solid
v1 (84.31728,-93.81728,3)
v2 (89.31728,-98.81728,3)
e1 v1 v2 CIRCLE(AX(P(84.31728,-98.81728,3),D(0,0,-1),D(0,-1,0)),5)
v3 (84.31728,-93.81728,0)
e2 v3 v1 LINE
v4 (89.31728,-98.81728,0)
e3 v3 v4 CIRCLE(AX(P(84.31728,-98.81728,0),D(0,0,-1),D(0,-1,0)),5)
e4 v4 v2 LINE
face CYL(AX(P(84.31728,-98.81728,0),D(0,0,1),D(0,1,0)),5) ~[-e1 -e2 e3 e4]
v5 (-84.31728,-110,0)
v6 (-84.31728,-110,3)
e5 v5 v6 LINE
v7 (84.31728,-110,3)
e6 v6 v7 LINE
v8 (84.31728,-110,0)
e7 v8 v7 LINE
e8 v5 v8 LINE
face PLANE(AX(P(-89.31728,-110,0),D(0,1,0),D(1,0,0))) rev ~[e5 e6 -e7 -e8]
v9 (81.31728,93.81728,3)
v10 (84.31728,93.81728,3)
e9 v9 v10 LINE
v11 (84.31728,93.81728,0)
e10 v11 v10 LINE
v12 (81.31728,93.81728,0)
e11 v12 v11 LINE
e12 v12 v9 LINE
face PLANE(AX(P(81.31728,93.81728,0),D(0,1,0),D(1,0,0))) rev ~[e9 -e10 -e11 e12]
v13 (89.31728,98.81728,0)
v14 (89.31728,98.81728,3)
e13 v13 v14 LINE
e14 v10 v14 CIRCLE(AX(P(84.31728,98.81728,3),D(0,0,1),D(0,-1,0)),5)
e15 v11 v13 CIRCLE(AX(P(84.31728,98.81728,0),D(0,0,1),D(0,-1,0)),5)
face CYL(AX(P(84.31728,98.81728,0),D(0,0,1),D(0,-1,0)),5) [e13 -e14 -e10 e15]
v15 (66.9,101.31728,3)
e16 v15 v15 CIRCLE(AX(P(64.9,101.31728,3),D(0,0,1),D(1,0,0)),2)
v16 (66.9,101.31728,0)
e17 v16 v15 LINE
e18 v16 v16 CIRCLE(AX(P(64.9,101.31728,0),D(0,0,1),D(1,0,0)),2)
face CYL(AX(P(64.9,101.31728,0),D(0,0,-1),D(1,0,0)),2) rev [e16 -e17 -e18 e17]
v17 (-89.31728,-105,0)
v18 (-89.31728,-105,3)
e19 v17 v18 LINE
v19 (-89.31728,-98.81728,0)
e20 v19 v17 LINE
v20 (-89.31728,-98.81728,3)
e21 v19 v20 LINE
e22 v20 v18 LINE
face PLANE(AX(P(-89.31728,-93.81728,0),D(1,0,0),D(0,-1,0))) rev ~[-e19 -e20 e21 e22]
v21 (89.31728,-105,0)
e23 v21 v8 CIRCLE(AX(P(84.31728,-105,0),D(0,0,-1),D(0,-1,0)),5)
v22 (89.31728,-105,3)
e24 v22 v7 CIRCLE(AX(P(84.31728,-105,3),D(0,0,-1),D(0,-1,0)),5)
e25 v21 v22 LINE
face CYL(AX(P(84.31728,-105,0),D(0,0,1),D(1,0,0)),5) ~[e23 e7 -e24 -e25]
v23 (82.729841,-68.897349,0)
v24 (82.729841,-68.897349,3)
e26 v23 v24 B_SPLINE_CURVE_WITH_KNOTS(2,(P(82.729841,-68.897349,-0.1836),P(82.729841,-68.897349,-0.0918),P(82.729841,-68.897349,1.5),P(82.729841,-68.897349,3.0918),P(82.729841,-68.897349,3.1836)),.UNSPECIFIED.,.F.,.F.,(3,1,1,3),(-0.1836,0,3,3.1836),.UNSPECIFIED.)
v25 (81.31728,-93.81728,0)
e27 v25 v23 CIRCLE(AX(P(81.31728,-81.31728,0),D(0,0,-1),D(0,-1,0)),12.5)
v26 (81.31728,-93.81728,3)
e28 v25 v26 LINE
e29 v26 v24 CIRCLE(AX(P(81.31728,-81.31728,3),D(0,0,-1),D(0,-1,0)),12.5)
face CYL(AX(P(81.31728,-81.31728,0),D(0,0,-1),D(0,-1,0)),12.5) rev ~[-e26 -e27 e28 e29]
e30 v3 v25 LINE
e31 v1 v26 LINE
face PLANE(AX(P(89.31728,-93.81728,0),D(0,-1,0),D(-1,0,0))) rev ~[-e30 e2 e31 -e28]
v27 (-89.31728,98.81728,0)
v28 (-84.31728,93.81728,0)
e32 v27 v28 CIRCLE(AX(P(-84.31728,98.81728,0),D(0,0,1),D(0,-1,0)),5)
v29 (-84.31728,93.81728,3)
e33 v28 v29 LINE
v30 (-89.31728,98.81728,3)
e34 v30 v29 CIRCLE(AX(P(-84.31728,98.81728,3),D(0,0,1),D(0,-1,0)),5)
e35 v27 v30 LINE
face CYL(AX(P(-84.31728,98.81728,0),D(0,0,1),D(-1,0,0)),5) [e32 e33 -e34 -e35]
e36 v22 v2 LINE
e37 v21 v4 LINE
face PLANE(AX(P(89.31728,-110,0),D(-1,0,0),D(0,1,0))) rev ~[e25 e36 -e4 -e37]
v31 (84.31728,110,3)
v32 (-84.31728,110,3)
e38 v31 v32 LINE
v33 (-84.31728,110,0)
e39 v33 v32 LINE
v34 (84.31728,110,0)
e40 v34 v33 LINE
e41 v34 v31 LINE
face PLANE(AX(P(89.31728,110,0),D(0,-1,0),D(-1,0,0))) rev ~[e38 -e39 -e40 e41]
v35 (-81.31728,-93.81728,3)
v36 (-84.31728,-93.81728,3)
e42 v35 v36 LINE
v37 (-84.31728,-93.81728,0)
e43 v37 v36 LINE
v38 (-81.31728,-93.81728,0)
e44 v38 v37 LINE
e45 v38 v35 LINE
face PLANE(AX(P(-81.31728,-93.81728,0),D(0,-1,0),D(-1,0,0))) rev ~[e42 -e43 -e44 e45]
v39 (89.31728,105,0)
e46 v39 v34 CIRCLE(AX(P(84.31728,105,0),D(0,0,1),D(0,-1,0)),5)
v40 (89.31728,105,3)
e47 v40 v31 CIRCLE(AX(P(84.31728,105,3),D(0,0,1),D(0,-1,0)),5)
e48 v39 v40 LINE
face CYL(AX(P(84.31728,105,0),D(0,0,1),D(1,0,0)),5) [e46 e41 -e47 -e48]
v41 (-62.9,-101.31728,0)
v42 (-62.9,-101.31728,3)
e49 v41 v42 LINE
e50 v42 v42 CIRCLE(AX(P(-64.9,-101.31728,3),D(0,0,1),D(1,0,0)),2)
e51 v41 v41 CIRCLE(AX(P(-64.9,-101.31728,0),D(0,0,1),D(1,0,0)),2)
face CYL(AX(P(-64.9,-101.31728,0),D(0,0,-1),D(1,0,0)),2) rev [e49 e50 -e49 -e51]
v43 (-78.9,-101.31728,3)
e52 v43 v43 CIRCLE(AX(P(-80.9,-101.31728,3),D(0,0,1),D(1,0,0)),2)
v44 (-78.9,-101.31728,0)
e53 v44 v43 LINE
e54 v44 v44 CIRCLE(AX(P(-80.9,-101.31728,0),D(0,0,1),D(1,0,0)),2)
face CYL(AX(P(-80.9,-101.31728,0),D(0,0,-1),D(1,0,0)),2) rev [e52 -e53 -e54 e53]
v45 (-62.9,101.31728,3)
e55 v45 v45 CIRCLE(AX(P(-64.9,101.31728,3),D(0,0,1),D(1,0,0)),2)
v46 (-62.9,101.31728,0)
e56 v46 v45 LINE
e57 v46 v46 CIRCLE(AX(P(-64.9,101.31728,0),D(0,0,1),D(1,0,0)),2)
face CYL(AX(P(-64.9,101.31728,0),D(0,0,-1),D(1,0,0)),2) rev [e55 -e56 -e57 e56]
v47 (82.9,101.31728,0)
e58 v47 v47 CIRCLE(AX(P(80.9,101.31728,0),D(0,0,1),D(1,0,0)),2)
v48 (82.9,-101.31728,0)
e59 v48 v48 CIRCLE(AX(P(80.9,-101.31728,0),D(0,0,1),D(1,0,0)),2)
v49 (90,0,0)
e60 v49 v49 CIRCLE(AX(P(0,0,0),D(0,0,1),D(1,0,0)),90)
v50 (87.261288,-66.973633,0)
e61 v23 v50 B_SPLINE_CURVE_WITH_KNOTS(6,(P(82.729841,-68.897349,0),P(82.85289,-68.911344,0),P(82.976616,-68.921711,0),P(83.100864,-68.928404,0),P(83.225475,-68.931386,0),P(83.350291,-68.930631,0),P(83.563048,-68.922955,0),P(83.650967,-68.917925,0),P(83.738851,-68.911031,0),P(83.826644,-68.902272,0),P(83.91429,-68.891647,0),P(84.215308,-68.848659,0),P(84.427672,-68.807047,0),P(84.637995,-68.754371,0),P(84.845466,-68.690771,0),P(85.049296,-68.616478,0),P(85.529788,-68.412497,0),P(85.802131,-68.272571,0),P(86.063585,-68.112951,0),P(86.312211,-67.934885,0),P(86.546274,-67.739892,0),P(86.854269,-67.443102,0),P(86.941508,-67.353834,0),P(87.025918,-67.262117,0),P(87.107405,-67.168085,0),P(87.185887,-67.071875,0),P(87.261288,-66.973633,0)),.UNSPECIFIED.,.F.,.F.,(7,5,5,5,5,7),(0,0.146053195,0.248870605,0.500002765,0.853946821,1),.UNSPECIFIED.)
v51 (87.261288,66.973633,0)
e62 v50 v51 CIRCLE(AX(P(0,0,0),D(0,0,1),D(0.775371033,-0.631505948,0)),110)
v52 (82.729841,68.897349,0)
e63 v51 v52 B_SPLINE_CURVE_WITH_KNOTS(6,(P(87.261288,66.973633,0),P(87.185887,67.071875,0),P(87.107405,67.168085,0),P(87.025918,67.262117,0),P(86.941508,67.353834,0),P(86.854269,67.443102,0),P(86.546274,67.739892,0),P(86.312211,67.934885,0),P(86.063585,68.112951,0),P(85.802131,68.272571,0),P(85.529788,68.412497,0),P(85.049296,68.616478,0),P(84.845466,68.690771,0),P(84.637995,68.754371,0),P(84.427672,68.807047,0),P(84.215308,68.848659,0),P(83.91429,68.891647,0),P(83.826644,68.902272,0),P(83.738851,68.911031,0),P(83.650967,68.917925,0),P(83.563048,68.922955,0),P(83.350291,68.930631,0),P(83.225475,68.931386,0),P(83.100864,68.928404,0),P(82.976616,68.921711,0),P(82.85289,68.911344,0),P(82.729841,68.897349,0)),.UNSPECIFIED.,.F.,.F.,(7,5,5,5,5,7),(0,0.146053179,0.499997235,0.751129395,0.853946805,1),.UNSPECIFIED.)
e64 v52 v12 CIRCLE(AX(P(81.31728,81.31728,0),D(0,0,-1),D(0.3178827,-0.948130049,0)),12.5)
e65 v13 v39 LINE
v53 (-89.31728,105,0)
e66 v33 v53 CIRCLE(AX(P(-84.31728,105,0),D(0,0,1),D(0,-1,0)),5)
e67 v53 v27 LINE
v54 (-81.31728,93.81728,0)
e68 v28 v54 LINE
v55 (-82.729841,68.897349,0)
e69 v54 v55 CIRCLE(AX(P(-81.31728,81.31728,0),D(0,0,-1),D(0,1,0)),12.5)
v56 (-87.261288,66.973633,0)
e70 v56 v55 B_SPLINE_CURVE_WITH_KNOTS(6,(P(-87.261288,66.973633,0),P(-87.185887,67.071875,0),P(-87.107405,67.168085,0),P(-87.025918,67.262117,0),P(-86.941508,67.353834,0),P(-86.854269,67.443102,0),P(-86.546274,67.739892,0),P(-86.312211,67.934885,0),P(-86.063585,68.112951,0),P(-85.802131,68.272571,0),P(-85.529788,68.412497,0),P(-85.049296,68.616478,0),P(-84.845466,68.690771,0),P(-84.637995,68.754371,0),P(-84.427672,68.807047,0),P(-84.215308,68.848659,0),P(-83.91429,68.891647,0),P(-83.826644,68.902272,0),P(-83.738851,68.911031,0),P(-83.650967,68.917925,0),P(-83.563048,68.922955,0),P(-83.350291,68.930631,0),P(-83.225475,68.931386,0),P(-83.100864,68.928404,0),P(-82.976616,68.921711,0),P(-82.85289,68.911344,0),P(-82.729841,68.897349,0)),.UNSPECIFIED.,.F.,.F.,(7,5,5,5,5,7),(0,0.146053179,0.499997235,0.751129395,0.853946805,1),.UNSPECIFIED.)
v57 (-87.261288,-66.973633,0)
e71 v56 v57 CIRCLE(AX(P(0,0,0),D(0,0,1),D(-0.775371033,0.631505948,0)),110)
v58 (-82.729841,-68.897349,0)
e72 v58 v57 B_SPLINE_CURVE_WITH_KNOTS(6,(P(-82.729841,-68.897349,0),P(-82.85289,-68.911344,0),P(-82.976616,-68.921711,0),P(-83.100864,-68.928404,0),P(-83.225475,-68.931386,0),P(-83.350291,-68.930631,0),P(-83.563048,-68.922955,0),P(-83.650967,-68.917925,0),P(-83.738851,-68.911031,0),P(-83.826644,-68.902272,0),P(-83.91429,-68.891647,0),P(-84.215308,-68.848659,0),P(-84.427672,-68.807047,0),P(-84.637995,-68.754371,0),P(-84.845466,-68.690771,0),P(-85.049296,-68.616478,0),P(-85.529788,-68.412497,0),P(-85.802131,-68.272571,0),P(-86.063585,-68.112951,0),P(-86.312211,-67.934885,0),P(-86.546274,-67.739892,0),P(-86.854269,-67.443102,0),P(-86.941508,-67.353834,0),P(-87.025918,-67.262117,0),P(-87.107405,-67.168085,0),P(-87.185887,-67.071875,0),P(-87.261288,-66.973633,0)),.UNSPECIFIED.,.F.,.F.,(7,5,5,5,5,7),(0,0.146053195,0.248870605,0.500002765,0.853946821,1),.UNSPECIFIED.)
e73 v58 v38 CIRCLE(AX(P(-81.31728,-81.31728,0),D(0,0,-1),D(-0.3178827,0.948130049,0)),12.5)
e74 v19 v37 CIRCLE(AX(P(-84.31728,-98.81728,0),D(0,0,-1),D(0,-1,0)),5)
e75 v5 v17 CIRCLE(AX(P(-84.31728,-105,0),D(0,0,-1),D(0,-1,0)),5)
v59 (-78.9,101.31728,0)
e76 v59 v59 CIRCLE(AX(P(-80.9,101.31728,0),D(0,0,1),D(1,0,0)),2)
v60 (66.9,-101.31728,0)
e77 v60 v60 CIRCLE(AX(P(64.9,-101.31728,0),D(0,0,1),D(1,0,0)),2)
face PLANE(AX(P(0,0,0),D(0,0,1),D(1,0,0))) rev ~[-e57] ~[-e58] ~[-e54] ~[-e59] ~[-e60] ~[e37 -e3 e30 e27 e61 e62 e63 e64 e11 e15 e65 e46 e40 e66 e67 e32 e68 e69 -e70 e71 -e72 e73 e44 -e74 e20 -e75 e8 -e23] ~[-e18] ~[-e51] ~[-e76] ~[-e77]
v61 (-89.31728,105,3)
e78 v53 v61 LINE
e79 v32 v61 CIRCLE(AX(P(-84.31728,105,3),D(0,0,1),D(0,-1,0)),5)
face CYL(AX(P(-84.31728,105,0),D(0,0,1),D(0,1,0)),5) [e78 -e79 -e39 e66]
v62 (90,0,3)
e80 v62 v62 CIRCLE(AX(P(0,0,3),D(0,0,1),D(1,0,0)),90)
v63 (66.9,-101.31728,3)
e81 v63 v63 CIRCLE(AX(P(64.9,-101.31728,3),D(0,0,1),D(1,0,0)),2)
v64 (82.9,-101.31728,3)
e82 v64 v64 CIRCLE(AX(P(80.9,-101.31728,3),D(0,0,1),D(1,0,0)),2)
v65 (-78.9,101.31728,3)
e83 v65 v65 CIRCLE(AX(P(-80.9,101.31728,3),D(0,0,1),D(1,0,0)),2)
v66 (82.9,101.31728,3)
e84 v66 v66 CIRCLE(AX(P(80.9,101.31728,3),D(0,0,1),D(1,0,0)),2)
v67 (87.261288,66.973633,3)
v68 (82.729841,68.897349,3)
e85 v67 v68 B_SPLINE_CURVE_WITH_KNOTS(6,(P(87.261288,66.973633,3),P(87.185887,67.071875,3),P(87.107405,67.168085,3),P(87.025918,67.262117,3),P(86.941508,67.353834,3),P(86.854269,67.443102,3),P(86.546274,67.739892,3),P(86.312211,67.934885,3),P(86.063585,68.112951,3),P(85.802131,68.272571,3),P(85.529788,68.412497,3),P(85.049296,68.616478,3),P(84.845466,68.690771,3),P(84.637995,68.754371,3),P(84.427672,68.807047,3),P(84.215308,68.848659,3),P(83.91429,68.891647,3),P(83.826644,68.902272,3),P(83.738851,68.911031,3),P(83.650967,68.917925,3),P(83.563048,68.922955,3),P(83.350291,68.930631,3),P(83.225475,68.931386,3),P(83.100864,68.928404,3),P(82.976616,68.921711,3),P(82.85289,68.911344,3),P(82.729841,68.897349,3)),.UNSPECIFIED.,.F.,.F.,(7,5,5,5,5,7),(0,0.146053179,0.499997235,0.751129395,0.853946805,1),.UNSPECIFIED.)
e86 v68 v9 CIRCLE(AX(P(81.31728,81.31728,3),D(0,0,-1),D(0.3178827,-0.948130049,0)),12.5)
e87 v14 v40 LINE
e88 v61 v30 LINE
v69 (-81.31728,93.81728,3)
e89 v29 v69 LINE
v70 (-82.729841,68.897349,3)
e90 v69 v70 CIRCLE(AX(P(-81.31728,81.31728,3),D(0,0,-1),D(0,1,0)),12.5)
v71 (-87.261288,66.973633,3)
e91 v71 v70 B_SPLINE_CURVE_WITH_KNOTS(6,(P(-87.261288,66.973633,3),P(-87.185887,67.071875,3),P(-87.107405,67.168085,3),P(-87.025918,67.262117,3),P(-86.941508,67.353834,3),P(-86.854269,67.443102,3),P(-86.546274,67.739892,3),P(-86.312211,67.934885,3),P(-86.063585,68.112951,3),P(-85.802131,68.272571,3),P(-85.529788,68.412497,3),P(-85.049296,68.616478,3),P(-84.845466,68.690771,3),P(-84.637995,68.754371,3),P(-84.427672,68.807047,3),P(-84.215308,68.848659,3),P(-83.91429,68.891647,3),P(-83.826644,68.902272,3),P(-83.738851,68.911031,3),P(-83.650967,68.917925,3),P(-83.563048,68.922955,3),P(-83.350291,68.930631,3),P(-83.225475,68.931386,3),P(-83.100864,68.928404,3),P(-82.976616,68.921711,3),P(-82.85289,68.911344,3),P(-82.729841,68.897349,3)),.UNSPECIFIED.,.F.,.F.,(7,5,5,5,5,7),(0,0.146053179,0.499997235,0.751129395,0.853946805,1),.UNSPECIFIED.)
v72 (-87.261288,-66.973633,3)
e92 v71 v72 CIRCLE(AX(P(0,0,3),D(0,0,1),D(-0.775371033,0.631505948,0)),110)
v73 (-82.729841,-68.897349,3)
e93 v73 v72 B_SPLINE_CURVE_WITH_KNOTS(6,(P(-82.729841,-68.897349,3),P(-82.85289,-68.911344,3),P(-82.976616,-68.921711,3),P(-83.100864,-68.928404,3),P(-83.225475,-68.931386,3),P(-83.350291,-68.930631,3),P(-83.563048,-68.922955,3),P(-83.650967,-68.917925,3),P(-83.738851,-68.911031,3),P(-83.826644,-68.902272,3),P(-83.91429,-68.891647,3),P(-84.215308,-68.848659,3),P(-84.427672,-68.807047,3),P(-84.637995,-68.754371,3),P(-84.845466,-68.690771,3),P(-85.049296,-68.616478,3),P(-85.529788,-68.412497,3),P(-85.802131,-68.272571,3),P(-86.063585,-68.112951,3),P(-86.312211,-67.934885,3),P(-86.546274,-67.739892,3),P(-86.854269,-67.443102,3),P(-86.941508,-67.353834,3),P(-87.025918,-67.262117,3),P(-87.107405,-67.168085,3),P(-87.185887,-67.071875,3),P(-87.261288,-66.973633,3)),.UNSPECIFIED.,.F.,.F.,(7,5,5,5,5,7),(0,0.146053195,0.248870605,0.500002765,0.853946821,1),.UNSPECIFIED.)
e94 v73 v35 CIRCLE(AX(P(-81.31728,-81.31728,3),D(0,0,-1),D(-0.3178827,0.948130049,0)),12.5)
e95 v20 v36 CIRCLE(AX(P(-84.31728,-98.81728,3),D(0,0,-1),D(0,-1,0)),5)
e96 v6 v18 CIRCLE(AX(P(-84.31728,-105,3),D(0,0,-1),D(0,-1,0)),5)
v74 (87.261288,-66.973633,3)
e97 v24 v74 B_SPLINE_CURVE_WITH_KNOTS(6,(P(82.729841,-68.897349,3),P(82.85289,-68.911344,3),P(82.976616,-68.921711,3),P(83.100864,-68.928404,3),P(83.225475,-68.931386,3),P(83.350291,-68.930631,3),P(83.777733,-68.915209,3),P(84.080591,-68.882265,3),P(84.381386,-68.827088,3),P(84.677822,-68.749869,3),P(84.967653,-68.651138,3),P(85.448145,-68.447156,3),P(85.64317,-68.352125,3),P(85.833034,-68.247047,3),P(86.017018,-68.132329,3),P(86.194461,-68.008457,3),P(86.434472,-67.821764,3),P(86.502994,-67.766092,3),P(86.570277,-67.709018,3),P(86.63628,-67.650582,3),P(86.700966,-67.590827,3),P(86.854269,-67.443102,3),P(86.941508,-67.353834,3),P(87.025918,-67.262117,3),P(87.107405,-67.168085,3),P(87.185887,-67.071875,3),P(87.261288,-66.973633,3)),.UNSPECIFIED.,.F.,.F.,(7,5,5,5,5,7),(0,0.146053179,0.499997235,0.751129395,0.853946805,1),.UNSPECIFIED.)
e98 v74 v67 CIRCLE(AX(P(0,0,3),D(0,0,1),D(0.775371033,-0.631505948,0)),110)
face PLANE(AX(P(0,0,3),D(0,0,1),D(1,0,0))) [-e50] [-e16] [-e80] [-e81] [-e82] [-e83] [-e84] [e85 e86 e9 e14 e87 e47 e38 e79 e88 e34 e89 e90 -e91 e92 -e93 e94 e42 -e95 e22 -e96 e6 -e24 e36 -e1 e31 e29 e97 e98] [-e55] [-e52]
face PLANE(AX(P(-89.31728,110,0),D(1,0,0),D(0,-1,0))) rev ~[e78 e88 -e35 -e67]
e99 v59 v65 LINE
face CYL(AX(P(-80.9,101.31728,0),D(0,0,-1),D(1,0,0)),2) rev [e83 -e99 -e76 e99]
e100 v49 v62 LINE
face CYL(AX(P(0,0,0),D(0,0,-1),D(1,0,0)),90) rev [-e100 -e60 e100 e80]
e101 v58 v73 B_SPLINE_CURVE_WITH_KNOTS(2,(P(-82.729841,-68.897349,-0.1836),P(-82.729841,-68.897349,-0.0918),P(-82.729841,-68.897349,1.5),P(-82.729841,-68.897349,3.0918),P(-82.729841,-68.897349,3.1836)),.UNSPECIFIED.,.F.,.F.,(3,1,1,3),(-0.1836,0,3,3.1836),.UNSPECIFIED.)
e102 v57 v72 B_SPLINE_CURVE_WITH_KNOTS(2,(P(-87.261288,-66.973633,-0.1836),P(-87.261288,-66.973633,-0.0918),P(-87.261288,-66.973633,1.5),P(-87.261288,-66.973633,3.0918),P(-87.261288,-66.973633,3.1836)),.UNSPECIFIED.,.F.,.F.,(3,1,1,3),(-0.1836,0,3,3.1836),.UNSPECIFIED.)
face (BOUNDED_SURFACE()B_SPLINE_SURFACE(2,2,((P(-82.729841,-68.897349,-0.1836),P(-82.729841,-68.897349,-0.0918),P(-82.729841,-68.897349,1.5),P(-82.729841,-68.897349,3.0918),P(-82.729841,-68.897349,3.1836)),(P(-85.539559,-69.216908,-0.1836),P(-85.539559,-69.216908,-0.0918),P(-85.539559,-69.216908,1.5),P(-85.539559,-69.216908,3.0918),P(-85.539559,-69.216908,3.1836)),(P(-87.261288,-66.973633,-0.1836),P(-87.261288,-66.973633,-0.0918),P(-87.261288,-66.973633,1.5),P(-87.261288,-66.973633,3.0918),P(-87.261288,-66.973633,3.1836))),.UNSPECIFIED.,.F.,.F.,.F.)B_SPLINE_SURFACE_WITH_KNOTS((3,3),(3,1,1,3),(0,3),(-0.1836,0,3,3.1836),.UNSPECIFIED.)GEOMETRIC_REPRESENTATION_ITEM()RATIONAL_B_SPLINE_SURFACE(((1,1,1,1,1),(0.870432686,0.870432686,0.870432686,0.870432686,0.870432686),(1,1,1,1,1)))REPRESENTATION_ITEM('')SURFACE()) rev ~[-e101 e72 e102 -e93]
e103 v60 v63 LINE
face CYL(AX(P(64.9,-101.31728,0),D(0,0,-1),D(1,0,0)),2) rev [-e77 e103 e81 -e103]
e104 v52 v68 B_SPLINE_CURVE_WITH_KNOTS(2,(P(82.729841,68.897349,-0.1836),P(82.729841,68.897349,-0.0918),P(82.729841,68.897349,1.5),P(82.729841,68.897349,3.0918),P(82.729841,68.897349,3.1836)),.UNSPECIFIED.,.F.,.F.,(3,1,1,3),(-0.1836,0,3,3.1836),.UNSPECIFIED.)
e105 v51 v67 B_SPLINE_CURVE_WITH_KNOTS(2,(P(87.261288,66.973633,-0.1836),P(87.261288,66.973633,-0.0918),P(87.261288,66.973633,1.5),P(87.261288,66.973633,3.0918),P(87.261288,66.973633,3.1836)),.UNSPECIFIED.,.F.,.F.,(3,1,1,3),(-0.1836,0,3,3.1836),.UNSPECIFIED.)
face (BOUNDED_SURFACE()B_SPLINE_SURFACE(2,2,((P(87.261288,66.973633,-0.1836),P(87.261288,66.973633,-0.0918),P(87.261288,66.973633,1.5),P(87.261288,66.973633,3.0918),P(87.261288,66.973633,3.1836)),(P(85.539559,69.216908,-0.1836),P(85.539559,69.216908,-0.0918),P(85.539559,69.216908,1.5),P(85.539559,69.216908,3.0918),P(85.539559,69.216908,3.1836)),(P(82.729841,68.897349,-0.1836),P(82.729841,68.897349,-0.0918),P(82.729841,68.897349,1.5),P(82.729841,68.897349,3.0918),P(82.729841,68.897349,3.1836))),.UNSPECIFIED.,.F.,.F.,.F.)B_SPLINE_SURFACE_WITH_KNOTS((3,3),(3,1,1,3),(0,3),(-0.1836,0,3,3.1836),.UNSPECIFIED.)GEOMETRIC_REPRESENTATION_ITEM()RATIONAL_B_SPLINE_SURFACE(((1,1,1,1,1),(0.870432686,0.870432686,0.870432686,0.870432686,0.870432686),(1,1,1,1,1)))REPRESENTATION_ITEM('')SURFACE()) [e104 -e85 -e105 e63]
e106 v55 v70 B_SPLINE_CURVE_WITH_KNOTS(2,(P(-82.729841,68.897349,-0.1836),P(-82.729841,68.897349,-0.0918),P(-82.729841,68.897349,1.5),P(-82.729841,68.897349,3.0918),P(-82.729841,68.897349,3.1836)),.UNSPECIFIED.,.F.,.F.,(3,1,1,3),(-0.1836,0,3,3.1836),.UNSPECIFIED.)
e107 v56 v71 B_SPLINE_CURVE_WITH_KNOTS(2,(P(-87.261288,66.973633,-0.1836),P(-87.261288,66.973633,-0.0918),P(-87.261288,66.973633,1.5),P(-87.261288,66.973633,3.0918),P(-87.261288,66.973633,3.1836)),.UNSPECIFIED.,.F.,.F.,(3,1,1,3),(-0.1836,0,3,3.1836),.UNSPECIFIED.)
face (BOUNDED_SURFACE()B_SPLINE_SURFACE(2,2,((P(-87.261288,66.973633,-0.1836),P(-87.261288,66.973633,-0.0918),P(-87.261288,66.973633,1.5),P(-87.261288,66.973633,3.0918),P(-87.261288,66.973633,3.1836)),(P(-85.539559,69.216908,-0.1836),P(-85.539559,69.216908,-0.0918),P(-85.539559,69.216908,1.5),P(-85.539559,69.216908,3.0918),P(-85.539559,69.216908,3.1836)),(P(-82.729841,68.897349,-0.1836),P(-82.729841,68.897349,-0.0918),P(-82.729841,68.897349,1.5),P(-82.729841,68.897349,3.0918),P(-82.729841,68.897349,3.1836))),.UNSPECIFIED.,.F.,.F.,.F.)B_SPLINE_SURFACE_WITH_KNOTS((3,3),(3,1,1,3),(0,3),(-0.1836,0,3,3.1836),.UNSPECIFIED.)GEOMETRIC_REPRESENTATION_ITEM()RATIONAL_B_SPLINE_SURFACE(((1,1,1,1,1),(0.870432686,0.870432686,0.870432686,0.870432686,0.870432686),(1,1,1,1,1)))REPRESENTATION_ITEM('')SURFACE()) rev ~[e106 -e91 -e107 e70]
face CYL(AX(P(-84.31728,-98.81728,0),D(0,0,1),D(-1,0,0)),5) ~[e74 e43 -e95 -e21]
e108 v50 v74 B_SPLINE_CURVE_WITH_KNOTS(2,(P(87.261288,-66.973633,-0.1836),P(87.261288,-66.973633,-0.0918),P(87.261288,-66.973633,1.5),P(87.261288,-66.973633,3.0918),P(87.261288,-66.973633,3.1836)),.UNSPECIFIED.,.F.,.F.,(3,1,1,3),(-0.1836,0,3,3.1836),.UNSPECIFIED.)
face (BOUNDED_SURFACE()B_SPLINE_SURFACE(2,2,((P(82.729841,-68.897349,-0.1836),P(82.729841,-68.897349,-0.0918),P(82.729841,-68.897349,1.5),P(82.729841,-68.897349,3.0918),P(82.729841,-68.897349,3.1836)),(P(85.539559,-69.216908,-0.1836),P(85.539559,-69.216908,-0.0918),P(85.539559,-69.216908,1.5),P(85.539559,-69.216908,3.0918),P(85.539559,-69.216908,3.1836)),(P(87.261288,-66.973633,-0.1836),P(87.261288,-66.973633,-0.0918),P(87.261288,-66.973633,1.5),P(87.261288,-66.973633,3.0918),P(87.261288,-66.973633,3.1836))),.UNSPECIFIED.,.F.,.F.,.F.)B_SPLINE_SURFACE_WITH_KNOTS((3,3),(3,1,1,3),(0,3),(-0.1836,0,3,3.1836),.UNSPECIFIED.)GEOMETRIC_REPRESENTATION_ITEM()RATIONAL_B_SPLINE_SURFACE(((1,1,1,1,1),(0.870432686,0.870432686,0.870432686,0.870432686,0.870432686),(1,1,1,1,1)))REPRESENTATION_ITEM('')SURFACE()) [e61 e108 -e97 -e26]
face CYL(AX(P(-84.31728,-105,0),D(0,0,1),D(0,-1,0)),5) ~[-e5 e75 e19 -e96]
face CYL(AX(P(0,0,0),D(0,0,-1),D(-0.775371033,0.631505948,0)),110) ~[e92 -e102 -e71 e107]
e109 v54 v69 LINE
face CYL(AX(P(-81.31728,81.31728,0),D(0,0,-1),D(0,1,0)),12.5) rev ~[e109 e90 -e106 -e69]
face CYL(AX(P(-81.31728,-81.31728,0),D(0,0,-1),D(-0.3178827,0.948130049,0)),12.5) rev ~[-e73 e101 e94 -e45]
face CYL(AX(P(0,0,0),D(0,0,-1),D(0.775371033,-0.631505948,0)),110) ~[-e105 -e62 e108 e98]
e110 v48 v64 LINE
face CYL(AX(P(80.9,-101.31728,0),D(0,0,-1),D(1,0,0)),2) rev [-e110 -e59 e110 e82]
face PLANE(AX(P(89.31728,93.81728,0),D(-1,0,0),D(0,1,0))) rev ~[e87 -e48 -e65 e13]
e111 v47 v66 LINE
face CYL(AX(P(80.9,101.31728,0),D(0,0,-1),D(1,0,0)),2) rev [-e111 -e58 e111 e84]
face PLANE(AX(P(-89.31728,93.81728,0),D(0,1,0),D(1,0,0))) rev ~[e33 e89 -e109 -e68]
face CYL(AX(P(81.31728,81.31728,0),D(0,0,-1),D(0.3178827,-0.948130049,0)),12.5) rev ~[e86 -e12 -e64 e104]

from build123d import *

# Parameters (mm, degrees)
IZIM1_R                     = 2
IZIM1_R_2                   = 90
Y_KSEKLIK_EKSTR_ZYON1_DEPTH = 3
FILLET1_R                   = 5


with BuildPart() as part:
    # Çizim1 → Yükseklik-Ekstrüzyon1 (new body)
    with BuildSketch(Plane.XY):
        with BuildLine():
            ThreePointArc((81.317279836, -93.817279836), (68.980438262, -79.304237374), (85.290813588, -69.46565423))
            ThreePointArc((85.290813588, -69.46565423), (110, 0), (85.290813588, 69.46565423))
            ThreePointArc((85.290813588, 69.46565423), (68.980438262, 79.304237374), (81.317279836, 93.817279836))
            Line((81.317279836, 93.817279836), (89.317279836, 93.817279836))
            Line((89.317279836, 93.817279836), (89.317279836, 110))
            Line((89.317279836, 110), (-89.317279836, 110))
            Line((-89.317279836, 110), (-89.317279836, 93.817279836))
            Line((-89.317279836, 93.817279836), (-81.317279836, 93.817279836))
            ThreePointArc((-81.317279836, 93.817279836), (-68.980438262, 79.304237374), (-85.290813588, 69.46565423))
            ThreePointArc((-85.290813588, 69.46565423), (-110, 0), (-85.290813588, -69.46565423))
            ThreePointArc((-85.290813588, -69.46565423), (-68.980438262, -79.304237374), (-81.317279836, -93.817279836))
            Line((-81.317279836, -93.817279836), (-89.317279836, -93.817279836))
            Line((-89.317279836, -93.817279836), (-89.317279836, -110))
            Line((-89.317279836, -110), (89.317279836, -110))
            Line((89.317279836, -110), (89.317279836, -93.817279836))
            Line((89.317279836, -93.817279836), (81.317279836, -93.817279836))
        make_face()
        with Locations((-80.9, -101.317279836)):
            Circle(IZIM1_R, mode=Mode.SUBTRACT)
        with Locations((80.9, -101.317279836)):
            Circle(IZIM1_R, mode=Mode.SUBTRACT)
        Circle(IZIM1_R_2, mode=Mode.SUBTRACT)
        with Locations((64.9, 101.317279836)):
            Circle(IZIM1_R, mode=Mode.SUBTRACT)
        with Locations((80.9, 101.317279836)):
            Circle(IZIM1_R, mode=Mode.SUBTRACT)
        with Locations((-80.9, 101.317279836)):
            Circle(IZIM1_R, mode=Mode.SUBTRACT)
        with Locations((-64.9, 101.317279836)):
            Circle(IZIM1_R, mode=Mode.SUBTRACT)
        with Locations((64.9, -101.317279836)):
            Circle(IZIM1_R, mode=Mode.SUBTRACT)
        with Locations((-64.9, -101.317279836)):
            Circle(IZIM1_R, mode=Mode.SUBTRACT)
    extrude(amount=Y_KSEKLIK_EKSTR_ZYON1_DEPTH)

    # Fillet1
    fillet1_edges = [part.edges().sort_by_distance(p)[0] for p in [
        (89.317279836, -93.817279836, 1.5),
        (89.317279836, -110, 1.5),
        (-89.317279836, -110, 1.5),
        (-89.317279836, -93.817279836, 1.5),
        (-85.290813588, -69.46565423, 1.5),
        (-85.290813588, 69.46565423, 1.5),
        (-89.317279836, 93.817279836, 1.5),
        (-89.317279836, 110, 1.5),
        (89.317279836, 110, 1.5),
        (89.317279836, 93.817279836, 1.5),
        (85.290813588, 69.46565423, 1.5),
        (85.290813588, -69.46565423, 1.5),
    ]]
    fillet(fillet1_edges, radius=FILLET1_R)


solid = part.part
